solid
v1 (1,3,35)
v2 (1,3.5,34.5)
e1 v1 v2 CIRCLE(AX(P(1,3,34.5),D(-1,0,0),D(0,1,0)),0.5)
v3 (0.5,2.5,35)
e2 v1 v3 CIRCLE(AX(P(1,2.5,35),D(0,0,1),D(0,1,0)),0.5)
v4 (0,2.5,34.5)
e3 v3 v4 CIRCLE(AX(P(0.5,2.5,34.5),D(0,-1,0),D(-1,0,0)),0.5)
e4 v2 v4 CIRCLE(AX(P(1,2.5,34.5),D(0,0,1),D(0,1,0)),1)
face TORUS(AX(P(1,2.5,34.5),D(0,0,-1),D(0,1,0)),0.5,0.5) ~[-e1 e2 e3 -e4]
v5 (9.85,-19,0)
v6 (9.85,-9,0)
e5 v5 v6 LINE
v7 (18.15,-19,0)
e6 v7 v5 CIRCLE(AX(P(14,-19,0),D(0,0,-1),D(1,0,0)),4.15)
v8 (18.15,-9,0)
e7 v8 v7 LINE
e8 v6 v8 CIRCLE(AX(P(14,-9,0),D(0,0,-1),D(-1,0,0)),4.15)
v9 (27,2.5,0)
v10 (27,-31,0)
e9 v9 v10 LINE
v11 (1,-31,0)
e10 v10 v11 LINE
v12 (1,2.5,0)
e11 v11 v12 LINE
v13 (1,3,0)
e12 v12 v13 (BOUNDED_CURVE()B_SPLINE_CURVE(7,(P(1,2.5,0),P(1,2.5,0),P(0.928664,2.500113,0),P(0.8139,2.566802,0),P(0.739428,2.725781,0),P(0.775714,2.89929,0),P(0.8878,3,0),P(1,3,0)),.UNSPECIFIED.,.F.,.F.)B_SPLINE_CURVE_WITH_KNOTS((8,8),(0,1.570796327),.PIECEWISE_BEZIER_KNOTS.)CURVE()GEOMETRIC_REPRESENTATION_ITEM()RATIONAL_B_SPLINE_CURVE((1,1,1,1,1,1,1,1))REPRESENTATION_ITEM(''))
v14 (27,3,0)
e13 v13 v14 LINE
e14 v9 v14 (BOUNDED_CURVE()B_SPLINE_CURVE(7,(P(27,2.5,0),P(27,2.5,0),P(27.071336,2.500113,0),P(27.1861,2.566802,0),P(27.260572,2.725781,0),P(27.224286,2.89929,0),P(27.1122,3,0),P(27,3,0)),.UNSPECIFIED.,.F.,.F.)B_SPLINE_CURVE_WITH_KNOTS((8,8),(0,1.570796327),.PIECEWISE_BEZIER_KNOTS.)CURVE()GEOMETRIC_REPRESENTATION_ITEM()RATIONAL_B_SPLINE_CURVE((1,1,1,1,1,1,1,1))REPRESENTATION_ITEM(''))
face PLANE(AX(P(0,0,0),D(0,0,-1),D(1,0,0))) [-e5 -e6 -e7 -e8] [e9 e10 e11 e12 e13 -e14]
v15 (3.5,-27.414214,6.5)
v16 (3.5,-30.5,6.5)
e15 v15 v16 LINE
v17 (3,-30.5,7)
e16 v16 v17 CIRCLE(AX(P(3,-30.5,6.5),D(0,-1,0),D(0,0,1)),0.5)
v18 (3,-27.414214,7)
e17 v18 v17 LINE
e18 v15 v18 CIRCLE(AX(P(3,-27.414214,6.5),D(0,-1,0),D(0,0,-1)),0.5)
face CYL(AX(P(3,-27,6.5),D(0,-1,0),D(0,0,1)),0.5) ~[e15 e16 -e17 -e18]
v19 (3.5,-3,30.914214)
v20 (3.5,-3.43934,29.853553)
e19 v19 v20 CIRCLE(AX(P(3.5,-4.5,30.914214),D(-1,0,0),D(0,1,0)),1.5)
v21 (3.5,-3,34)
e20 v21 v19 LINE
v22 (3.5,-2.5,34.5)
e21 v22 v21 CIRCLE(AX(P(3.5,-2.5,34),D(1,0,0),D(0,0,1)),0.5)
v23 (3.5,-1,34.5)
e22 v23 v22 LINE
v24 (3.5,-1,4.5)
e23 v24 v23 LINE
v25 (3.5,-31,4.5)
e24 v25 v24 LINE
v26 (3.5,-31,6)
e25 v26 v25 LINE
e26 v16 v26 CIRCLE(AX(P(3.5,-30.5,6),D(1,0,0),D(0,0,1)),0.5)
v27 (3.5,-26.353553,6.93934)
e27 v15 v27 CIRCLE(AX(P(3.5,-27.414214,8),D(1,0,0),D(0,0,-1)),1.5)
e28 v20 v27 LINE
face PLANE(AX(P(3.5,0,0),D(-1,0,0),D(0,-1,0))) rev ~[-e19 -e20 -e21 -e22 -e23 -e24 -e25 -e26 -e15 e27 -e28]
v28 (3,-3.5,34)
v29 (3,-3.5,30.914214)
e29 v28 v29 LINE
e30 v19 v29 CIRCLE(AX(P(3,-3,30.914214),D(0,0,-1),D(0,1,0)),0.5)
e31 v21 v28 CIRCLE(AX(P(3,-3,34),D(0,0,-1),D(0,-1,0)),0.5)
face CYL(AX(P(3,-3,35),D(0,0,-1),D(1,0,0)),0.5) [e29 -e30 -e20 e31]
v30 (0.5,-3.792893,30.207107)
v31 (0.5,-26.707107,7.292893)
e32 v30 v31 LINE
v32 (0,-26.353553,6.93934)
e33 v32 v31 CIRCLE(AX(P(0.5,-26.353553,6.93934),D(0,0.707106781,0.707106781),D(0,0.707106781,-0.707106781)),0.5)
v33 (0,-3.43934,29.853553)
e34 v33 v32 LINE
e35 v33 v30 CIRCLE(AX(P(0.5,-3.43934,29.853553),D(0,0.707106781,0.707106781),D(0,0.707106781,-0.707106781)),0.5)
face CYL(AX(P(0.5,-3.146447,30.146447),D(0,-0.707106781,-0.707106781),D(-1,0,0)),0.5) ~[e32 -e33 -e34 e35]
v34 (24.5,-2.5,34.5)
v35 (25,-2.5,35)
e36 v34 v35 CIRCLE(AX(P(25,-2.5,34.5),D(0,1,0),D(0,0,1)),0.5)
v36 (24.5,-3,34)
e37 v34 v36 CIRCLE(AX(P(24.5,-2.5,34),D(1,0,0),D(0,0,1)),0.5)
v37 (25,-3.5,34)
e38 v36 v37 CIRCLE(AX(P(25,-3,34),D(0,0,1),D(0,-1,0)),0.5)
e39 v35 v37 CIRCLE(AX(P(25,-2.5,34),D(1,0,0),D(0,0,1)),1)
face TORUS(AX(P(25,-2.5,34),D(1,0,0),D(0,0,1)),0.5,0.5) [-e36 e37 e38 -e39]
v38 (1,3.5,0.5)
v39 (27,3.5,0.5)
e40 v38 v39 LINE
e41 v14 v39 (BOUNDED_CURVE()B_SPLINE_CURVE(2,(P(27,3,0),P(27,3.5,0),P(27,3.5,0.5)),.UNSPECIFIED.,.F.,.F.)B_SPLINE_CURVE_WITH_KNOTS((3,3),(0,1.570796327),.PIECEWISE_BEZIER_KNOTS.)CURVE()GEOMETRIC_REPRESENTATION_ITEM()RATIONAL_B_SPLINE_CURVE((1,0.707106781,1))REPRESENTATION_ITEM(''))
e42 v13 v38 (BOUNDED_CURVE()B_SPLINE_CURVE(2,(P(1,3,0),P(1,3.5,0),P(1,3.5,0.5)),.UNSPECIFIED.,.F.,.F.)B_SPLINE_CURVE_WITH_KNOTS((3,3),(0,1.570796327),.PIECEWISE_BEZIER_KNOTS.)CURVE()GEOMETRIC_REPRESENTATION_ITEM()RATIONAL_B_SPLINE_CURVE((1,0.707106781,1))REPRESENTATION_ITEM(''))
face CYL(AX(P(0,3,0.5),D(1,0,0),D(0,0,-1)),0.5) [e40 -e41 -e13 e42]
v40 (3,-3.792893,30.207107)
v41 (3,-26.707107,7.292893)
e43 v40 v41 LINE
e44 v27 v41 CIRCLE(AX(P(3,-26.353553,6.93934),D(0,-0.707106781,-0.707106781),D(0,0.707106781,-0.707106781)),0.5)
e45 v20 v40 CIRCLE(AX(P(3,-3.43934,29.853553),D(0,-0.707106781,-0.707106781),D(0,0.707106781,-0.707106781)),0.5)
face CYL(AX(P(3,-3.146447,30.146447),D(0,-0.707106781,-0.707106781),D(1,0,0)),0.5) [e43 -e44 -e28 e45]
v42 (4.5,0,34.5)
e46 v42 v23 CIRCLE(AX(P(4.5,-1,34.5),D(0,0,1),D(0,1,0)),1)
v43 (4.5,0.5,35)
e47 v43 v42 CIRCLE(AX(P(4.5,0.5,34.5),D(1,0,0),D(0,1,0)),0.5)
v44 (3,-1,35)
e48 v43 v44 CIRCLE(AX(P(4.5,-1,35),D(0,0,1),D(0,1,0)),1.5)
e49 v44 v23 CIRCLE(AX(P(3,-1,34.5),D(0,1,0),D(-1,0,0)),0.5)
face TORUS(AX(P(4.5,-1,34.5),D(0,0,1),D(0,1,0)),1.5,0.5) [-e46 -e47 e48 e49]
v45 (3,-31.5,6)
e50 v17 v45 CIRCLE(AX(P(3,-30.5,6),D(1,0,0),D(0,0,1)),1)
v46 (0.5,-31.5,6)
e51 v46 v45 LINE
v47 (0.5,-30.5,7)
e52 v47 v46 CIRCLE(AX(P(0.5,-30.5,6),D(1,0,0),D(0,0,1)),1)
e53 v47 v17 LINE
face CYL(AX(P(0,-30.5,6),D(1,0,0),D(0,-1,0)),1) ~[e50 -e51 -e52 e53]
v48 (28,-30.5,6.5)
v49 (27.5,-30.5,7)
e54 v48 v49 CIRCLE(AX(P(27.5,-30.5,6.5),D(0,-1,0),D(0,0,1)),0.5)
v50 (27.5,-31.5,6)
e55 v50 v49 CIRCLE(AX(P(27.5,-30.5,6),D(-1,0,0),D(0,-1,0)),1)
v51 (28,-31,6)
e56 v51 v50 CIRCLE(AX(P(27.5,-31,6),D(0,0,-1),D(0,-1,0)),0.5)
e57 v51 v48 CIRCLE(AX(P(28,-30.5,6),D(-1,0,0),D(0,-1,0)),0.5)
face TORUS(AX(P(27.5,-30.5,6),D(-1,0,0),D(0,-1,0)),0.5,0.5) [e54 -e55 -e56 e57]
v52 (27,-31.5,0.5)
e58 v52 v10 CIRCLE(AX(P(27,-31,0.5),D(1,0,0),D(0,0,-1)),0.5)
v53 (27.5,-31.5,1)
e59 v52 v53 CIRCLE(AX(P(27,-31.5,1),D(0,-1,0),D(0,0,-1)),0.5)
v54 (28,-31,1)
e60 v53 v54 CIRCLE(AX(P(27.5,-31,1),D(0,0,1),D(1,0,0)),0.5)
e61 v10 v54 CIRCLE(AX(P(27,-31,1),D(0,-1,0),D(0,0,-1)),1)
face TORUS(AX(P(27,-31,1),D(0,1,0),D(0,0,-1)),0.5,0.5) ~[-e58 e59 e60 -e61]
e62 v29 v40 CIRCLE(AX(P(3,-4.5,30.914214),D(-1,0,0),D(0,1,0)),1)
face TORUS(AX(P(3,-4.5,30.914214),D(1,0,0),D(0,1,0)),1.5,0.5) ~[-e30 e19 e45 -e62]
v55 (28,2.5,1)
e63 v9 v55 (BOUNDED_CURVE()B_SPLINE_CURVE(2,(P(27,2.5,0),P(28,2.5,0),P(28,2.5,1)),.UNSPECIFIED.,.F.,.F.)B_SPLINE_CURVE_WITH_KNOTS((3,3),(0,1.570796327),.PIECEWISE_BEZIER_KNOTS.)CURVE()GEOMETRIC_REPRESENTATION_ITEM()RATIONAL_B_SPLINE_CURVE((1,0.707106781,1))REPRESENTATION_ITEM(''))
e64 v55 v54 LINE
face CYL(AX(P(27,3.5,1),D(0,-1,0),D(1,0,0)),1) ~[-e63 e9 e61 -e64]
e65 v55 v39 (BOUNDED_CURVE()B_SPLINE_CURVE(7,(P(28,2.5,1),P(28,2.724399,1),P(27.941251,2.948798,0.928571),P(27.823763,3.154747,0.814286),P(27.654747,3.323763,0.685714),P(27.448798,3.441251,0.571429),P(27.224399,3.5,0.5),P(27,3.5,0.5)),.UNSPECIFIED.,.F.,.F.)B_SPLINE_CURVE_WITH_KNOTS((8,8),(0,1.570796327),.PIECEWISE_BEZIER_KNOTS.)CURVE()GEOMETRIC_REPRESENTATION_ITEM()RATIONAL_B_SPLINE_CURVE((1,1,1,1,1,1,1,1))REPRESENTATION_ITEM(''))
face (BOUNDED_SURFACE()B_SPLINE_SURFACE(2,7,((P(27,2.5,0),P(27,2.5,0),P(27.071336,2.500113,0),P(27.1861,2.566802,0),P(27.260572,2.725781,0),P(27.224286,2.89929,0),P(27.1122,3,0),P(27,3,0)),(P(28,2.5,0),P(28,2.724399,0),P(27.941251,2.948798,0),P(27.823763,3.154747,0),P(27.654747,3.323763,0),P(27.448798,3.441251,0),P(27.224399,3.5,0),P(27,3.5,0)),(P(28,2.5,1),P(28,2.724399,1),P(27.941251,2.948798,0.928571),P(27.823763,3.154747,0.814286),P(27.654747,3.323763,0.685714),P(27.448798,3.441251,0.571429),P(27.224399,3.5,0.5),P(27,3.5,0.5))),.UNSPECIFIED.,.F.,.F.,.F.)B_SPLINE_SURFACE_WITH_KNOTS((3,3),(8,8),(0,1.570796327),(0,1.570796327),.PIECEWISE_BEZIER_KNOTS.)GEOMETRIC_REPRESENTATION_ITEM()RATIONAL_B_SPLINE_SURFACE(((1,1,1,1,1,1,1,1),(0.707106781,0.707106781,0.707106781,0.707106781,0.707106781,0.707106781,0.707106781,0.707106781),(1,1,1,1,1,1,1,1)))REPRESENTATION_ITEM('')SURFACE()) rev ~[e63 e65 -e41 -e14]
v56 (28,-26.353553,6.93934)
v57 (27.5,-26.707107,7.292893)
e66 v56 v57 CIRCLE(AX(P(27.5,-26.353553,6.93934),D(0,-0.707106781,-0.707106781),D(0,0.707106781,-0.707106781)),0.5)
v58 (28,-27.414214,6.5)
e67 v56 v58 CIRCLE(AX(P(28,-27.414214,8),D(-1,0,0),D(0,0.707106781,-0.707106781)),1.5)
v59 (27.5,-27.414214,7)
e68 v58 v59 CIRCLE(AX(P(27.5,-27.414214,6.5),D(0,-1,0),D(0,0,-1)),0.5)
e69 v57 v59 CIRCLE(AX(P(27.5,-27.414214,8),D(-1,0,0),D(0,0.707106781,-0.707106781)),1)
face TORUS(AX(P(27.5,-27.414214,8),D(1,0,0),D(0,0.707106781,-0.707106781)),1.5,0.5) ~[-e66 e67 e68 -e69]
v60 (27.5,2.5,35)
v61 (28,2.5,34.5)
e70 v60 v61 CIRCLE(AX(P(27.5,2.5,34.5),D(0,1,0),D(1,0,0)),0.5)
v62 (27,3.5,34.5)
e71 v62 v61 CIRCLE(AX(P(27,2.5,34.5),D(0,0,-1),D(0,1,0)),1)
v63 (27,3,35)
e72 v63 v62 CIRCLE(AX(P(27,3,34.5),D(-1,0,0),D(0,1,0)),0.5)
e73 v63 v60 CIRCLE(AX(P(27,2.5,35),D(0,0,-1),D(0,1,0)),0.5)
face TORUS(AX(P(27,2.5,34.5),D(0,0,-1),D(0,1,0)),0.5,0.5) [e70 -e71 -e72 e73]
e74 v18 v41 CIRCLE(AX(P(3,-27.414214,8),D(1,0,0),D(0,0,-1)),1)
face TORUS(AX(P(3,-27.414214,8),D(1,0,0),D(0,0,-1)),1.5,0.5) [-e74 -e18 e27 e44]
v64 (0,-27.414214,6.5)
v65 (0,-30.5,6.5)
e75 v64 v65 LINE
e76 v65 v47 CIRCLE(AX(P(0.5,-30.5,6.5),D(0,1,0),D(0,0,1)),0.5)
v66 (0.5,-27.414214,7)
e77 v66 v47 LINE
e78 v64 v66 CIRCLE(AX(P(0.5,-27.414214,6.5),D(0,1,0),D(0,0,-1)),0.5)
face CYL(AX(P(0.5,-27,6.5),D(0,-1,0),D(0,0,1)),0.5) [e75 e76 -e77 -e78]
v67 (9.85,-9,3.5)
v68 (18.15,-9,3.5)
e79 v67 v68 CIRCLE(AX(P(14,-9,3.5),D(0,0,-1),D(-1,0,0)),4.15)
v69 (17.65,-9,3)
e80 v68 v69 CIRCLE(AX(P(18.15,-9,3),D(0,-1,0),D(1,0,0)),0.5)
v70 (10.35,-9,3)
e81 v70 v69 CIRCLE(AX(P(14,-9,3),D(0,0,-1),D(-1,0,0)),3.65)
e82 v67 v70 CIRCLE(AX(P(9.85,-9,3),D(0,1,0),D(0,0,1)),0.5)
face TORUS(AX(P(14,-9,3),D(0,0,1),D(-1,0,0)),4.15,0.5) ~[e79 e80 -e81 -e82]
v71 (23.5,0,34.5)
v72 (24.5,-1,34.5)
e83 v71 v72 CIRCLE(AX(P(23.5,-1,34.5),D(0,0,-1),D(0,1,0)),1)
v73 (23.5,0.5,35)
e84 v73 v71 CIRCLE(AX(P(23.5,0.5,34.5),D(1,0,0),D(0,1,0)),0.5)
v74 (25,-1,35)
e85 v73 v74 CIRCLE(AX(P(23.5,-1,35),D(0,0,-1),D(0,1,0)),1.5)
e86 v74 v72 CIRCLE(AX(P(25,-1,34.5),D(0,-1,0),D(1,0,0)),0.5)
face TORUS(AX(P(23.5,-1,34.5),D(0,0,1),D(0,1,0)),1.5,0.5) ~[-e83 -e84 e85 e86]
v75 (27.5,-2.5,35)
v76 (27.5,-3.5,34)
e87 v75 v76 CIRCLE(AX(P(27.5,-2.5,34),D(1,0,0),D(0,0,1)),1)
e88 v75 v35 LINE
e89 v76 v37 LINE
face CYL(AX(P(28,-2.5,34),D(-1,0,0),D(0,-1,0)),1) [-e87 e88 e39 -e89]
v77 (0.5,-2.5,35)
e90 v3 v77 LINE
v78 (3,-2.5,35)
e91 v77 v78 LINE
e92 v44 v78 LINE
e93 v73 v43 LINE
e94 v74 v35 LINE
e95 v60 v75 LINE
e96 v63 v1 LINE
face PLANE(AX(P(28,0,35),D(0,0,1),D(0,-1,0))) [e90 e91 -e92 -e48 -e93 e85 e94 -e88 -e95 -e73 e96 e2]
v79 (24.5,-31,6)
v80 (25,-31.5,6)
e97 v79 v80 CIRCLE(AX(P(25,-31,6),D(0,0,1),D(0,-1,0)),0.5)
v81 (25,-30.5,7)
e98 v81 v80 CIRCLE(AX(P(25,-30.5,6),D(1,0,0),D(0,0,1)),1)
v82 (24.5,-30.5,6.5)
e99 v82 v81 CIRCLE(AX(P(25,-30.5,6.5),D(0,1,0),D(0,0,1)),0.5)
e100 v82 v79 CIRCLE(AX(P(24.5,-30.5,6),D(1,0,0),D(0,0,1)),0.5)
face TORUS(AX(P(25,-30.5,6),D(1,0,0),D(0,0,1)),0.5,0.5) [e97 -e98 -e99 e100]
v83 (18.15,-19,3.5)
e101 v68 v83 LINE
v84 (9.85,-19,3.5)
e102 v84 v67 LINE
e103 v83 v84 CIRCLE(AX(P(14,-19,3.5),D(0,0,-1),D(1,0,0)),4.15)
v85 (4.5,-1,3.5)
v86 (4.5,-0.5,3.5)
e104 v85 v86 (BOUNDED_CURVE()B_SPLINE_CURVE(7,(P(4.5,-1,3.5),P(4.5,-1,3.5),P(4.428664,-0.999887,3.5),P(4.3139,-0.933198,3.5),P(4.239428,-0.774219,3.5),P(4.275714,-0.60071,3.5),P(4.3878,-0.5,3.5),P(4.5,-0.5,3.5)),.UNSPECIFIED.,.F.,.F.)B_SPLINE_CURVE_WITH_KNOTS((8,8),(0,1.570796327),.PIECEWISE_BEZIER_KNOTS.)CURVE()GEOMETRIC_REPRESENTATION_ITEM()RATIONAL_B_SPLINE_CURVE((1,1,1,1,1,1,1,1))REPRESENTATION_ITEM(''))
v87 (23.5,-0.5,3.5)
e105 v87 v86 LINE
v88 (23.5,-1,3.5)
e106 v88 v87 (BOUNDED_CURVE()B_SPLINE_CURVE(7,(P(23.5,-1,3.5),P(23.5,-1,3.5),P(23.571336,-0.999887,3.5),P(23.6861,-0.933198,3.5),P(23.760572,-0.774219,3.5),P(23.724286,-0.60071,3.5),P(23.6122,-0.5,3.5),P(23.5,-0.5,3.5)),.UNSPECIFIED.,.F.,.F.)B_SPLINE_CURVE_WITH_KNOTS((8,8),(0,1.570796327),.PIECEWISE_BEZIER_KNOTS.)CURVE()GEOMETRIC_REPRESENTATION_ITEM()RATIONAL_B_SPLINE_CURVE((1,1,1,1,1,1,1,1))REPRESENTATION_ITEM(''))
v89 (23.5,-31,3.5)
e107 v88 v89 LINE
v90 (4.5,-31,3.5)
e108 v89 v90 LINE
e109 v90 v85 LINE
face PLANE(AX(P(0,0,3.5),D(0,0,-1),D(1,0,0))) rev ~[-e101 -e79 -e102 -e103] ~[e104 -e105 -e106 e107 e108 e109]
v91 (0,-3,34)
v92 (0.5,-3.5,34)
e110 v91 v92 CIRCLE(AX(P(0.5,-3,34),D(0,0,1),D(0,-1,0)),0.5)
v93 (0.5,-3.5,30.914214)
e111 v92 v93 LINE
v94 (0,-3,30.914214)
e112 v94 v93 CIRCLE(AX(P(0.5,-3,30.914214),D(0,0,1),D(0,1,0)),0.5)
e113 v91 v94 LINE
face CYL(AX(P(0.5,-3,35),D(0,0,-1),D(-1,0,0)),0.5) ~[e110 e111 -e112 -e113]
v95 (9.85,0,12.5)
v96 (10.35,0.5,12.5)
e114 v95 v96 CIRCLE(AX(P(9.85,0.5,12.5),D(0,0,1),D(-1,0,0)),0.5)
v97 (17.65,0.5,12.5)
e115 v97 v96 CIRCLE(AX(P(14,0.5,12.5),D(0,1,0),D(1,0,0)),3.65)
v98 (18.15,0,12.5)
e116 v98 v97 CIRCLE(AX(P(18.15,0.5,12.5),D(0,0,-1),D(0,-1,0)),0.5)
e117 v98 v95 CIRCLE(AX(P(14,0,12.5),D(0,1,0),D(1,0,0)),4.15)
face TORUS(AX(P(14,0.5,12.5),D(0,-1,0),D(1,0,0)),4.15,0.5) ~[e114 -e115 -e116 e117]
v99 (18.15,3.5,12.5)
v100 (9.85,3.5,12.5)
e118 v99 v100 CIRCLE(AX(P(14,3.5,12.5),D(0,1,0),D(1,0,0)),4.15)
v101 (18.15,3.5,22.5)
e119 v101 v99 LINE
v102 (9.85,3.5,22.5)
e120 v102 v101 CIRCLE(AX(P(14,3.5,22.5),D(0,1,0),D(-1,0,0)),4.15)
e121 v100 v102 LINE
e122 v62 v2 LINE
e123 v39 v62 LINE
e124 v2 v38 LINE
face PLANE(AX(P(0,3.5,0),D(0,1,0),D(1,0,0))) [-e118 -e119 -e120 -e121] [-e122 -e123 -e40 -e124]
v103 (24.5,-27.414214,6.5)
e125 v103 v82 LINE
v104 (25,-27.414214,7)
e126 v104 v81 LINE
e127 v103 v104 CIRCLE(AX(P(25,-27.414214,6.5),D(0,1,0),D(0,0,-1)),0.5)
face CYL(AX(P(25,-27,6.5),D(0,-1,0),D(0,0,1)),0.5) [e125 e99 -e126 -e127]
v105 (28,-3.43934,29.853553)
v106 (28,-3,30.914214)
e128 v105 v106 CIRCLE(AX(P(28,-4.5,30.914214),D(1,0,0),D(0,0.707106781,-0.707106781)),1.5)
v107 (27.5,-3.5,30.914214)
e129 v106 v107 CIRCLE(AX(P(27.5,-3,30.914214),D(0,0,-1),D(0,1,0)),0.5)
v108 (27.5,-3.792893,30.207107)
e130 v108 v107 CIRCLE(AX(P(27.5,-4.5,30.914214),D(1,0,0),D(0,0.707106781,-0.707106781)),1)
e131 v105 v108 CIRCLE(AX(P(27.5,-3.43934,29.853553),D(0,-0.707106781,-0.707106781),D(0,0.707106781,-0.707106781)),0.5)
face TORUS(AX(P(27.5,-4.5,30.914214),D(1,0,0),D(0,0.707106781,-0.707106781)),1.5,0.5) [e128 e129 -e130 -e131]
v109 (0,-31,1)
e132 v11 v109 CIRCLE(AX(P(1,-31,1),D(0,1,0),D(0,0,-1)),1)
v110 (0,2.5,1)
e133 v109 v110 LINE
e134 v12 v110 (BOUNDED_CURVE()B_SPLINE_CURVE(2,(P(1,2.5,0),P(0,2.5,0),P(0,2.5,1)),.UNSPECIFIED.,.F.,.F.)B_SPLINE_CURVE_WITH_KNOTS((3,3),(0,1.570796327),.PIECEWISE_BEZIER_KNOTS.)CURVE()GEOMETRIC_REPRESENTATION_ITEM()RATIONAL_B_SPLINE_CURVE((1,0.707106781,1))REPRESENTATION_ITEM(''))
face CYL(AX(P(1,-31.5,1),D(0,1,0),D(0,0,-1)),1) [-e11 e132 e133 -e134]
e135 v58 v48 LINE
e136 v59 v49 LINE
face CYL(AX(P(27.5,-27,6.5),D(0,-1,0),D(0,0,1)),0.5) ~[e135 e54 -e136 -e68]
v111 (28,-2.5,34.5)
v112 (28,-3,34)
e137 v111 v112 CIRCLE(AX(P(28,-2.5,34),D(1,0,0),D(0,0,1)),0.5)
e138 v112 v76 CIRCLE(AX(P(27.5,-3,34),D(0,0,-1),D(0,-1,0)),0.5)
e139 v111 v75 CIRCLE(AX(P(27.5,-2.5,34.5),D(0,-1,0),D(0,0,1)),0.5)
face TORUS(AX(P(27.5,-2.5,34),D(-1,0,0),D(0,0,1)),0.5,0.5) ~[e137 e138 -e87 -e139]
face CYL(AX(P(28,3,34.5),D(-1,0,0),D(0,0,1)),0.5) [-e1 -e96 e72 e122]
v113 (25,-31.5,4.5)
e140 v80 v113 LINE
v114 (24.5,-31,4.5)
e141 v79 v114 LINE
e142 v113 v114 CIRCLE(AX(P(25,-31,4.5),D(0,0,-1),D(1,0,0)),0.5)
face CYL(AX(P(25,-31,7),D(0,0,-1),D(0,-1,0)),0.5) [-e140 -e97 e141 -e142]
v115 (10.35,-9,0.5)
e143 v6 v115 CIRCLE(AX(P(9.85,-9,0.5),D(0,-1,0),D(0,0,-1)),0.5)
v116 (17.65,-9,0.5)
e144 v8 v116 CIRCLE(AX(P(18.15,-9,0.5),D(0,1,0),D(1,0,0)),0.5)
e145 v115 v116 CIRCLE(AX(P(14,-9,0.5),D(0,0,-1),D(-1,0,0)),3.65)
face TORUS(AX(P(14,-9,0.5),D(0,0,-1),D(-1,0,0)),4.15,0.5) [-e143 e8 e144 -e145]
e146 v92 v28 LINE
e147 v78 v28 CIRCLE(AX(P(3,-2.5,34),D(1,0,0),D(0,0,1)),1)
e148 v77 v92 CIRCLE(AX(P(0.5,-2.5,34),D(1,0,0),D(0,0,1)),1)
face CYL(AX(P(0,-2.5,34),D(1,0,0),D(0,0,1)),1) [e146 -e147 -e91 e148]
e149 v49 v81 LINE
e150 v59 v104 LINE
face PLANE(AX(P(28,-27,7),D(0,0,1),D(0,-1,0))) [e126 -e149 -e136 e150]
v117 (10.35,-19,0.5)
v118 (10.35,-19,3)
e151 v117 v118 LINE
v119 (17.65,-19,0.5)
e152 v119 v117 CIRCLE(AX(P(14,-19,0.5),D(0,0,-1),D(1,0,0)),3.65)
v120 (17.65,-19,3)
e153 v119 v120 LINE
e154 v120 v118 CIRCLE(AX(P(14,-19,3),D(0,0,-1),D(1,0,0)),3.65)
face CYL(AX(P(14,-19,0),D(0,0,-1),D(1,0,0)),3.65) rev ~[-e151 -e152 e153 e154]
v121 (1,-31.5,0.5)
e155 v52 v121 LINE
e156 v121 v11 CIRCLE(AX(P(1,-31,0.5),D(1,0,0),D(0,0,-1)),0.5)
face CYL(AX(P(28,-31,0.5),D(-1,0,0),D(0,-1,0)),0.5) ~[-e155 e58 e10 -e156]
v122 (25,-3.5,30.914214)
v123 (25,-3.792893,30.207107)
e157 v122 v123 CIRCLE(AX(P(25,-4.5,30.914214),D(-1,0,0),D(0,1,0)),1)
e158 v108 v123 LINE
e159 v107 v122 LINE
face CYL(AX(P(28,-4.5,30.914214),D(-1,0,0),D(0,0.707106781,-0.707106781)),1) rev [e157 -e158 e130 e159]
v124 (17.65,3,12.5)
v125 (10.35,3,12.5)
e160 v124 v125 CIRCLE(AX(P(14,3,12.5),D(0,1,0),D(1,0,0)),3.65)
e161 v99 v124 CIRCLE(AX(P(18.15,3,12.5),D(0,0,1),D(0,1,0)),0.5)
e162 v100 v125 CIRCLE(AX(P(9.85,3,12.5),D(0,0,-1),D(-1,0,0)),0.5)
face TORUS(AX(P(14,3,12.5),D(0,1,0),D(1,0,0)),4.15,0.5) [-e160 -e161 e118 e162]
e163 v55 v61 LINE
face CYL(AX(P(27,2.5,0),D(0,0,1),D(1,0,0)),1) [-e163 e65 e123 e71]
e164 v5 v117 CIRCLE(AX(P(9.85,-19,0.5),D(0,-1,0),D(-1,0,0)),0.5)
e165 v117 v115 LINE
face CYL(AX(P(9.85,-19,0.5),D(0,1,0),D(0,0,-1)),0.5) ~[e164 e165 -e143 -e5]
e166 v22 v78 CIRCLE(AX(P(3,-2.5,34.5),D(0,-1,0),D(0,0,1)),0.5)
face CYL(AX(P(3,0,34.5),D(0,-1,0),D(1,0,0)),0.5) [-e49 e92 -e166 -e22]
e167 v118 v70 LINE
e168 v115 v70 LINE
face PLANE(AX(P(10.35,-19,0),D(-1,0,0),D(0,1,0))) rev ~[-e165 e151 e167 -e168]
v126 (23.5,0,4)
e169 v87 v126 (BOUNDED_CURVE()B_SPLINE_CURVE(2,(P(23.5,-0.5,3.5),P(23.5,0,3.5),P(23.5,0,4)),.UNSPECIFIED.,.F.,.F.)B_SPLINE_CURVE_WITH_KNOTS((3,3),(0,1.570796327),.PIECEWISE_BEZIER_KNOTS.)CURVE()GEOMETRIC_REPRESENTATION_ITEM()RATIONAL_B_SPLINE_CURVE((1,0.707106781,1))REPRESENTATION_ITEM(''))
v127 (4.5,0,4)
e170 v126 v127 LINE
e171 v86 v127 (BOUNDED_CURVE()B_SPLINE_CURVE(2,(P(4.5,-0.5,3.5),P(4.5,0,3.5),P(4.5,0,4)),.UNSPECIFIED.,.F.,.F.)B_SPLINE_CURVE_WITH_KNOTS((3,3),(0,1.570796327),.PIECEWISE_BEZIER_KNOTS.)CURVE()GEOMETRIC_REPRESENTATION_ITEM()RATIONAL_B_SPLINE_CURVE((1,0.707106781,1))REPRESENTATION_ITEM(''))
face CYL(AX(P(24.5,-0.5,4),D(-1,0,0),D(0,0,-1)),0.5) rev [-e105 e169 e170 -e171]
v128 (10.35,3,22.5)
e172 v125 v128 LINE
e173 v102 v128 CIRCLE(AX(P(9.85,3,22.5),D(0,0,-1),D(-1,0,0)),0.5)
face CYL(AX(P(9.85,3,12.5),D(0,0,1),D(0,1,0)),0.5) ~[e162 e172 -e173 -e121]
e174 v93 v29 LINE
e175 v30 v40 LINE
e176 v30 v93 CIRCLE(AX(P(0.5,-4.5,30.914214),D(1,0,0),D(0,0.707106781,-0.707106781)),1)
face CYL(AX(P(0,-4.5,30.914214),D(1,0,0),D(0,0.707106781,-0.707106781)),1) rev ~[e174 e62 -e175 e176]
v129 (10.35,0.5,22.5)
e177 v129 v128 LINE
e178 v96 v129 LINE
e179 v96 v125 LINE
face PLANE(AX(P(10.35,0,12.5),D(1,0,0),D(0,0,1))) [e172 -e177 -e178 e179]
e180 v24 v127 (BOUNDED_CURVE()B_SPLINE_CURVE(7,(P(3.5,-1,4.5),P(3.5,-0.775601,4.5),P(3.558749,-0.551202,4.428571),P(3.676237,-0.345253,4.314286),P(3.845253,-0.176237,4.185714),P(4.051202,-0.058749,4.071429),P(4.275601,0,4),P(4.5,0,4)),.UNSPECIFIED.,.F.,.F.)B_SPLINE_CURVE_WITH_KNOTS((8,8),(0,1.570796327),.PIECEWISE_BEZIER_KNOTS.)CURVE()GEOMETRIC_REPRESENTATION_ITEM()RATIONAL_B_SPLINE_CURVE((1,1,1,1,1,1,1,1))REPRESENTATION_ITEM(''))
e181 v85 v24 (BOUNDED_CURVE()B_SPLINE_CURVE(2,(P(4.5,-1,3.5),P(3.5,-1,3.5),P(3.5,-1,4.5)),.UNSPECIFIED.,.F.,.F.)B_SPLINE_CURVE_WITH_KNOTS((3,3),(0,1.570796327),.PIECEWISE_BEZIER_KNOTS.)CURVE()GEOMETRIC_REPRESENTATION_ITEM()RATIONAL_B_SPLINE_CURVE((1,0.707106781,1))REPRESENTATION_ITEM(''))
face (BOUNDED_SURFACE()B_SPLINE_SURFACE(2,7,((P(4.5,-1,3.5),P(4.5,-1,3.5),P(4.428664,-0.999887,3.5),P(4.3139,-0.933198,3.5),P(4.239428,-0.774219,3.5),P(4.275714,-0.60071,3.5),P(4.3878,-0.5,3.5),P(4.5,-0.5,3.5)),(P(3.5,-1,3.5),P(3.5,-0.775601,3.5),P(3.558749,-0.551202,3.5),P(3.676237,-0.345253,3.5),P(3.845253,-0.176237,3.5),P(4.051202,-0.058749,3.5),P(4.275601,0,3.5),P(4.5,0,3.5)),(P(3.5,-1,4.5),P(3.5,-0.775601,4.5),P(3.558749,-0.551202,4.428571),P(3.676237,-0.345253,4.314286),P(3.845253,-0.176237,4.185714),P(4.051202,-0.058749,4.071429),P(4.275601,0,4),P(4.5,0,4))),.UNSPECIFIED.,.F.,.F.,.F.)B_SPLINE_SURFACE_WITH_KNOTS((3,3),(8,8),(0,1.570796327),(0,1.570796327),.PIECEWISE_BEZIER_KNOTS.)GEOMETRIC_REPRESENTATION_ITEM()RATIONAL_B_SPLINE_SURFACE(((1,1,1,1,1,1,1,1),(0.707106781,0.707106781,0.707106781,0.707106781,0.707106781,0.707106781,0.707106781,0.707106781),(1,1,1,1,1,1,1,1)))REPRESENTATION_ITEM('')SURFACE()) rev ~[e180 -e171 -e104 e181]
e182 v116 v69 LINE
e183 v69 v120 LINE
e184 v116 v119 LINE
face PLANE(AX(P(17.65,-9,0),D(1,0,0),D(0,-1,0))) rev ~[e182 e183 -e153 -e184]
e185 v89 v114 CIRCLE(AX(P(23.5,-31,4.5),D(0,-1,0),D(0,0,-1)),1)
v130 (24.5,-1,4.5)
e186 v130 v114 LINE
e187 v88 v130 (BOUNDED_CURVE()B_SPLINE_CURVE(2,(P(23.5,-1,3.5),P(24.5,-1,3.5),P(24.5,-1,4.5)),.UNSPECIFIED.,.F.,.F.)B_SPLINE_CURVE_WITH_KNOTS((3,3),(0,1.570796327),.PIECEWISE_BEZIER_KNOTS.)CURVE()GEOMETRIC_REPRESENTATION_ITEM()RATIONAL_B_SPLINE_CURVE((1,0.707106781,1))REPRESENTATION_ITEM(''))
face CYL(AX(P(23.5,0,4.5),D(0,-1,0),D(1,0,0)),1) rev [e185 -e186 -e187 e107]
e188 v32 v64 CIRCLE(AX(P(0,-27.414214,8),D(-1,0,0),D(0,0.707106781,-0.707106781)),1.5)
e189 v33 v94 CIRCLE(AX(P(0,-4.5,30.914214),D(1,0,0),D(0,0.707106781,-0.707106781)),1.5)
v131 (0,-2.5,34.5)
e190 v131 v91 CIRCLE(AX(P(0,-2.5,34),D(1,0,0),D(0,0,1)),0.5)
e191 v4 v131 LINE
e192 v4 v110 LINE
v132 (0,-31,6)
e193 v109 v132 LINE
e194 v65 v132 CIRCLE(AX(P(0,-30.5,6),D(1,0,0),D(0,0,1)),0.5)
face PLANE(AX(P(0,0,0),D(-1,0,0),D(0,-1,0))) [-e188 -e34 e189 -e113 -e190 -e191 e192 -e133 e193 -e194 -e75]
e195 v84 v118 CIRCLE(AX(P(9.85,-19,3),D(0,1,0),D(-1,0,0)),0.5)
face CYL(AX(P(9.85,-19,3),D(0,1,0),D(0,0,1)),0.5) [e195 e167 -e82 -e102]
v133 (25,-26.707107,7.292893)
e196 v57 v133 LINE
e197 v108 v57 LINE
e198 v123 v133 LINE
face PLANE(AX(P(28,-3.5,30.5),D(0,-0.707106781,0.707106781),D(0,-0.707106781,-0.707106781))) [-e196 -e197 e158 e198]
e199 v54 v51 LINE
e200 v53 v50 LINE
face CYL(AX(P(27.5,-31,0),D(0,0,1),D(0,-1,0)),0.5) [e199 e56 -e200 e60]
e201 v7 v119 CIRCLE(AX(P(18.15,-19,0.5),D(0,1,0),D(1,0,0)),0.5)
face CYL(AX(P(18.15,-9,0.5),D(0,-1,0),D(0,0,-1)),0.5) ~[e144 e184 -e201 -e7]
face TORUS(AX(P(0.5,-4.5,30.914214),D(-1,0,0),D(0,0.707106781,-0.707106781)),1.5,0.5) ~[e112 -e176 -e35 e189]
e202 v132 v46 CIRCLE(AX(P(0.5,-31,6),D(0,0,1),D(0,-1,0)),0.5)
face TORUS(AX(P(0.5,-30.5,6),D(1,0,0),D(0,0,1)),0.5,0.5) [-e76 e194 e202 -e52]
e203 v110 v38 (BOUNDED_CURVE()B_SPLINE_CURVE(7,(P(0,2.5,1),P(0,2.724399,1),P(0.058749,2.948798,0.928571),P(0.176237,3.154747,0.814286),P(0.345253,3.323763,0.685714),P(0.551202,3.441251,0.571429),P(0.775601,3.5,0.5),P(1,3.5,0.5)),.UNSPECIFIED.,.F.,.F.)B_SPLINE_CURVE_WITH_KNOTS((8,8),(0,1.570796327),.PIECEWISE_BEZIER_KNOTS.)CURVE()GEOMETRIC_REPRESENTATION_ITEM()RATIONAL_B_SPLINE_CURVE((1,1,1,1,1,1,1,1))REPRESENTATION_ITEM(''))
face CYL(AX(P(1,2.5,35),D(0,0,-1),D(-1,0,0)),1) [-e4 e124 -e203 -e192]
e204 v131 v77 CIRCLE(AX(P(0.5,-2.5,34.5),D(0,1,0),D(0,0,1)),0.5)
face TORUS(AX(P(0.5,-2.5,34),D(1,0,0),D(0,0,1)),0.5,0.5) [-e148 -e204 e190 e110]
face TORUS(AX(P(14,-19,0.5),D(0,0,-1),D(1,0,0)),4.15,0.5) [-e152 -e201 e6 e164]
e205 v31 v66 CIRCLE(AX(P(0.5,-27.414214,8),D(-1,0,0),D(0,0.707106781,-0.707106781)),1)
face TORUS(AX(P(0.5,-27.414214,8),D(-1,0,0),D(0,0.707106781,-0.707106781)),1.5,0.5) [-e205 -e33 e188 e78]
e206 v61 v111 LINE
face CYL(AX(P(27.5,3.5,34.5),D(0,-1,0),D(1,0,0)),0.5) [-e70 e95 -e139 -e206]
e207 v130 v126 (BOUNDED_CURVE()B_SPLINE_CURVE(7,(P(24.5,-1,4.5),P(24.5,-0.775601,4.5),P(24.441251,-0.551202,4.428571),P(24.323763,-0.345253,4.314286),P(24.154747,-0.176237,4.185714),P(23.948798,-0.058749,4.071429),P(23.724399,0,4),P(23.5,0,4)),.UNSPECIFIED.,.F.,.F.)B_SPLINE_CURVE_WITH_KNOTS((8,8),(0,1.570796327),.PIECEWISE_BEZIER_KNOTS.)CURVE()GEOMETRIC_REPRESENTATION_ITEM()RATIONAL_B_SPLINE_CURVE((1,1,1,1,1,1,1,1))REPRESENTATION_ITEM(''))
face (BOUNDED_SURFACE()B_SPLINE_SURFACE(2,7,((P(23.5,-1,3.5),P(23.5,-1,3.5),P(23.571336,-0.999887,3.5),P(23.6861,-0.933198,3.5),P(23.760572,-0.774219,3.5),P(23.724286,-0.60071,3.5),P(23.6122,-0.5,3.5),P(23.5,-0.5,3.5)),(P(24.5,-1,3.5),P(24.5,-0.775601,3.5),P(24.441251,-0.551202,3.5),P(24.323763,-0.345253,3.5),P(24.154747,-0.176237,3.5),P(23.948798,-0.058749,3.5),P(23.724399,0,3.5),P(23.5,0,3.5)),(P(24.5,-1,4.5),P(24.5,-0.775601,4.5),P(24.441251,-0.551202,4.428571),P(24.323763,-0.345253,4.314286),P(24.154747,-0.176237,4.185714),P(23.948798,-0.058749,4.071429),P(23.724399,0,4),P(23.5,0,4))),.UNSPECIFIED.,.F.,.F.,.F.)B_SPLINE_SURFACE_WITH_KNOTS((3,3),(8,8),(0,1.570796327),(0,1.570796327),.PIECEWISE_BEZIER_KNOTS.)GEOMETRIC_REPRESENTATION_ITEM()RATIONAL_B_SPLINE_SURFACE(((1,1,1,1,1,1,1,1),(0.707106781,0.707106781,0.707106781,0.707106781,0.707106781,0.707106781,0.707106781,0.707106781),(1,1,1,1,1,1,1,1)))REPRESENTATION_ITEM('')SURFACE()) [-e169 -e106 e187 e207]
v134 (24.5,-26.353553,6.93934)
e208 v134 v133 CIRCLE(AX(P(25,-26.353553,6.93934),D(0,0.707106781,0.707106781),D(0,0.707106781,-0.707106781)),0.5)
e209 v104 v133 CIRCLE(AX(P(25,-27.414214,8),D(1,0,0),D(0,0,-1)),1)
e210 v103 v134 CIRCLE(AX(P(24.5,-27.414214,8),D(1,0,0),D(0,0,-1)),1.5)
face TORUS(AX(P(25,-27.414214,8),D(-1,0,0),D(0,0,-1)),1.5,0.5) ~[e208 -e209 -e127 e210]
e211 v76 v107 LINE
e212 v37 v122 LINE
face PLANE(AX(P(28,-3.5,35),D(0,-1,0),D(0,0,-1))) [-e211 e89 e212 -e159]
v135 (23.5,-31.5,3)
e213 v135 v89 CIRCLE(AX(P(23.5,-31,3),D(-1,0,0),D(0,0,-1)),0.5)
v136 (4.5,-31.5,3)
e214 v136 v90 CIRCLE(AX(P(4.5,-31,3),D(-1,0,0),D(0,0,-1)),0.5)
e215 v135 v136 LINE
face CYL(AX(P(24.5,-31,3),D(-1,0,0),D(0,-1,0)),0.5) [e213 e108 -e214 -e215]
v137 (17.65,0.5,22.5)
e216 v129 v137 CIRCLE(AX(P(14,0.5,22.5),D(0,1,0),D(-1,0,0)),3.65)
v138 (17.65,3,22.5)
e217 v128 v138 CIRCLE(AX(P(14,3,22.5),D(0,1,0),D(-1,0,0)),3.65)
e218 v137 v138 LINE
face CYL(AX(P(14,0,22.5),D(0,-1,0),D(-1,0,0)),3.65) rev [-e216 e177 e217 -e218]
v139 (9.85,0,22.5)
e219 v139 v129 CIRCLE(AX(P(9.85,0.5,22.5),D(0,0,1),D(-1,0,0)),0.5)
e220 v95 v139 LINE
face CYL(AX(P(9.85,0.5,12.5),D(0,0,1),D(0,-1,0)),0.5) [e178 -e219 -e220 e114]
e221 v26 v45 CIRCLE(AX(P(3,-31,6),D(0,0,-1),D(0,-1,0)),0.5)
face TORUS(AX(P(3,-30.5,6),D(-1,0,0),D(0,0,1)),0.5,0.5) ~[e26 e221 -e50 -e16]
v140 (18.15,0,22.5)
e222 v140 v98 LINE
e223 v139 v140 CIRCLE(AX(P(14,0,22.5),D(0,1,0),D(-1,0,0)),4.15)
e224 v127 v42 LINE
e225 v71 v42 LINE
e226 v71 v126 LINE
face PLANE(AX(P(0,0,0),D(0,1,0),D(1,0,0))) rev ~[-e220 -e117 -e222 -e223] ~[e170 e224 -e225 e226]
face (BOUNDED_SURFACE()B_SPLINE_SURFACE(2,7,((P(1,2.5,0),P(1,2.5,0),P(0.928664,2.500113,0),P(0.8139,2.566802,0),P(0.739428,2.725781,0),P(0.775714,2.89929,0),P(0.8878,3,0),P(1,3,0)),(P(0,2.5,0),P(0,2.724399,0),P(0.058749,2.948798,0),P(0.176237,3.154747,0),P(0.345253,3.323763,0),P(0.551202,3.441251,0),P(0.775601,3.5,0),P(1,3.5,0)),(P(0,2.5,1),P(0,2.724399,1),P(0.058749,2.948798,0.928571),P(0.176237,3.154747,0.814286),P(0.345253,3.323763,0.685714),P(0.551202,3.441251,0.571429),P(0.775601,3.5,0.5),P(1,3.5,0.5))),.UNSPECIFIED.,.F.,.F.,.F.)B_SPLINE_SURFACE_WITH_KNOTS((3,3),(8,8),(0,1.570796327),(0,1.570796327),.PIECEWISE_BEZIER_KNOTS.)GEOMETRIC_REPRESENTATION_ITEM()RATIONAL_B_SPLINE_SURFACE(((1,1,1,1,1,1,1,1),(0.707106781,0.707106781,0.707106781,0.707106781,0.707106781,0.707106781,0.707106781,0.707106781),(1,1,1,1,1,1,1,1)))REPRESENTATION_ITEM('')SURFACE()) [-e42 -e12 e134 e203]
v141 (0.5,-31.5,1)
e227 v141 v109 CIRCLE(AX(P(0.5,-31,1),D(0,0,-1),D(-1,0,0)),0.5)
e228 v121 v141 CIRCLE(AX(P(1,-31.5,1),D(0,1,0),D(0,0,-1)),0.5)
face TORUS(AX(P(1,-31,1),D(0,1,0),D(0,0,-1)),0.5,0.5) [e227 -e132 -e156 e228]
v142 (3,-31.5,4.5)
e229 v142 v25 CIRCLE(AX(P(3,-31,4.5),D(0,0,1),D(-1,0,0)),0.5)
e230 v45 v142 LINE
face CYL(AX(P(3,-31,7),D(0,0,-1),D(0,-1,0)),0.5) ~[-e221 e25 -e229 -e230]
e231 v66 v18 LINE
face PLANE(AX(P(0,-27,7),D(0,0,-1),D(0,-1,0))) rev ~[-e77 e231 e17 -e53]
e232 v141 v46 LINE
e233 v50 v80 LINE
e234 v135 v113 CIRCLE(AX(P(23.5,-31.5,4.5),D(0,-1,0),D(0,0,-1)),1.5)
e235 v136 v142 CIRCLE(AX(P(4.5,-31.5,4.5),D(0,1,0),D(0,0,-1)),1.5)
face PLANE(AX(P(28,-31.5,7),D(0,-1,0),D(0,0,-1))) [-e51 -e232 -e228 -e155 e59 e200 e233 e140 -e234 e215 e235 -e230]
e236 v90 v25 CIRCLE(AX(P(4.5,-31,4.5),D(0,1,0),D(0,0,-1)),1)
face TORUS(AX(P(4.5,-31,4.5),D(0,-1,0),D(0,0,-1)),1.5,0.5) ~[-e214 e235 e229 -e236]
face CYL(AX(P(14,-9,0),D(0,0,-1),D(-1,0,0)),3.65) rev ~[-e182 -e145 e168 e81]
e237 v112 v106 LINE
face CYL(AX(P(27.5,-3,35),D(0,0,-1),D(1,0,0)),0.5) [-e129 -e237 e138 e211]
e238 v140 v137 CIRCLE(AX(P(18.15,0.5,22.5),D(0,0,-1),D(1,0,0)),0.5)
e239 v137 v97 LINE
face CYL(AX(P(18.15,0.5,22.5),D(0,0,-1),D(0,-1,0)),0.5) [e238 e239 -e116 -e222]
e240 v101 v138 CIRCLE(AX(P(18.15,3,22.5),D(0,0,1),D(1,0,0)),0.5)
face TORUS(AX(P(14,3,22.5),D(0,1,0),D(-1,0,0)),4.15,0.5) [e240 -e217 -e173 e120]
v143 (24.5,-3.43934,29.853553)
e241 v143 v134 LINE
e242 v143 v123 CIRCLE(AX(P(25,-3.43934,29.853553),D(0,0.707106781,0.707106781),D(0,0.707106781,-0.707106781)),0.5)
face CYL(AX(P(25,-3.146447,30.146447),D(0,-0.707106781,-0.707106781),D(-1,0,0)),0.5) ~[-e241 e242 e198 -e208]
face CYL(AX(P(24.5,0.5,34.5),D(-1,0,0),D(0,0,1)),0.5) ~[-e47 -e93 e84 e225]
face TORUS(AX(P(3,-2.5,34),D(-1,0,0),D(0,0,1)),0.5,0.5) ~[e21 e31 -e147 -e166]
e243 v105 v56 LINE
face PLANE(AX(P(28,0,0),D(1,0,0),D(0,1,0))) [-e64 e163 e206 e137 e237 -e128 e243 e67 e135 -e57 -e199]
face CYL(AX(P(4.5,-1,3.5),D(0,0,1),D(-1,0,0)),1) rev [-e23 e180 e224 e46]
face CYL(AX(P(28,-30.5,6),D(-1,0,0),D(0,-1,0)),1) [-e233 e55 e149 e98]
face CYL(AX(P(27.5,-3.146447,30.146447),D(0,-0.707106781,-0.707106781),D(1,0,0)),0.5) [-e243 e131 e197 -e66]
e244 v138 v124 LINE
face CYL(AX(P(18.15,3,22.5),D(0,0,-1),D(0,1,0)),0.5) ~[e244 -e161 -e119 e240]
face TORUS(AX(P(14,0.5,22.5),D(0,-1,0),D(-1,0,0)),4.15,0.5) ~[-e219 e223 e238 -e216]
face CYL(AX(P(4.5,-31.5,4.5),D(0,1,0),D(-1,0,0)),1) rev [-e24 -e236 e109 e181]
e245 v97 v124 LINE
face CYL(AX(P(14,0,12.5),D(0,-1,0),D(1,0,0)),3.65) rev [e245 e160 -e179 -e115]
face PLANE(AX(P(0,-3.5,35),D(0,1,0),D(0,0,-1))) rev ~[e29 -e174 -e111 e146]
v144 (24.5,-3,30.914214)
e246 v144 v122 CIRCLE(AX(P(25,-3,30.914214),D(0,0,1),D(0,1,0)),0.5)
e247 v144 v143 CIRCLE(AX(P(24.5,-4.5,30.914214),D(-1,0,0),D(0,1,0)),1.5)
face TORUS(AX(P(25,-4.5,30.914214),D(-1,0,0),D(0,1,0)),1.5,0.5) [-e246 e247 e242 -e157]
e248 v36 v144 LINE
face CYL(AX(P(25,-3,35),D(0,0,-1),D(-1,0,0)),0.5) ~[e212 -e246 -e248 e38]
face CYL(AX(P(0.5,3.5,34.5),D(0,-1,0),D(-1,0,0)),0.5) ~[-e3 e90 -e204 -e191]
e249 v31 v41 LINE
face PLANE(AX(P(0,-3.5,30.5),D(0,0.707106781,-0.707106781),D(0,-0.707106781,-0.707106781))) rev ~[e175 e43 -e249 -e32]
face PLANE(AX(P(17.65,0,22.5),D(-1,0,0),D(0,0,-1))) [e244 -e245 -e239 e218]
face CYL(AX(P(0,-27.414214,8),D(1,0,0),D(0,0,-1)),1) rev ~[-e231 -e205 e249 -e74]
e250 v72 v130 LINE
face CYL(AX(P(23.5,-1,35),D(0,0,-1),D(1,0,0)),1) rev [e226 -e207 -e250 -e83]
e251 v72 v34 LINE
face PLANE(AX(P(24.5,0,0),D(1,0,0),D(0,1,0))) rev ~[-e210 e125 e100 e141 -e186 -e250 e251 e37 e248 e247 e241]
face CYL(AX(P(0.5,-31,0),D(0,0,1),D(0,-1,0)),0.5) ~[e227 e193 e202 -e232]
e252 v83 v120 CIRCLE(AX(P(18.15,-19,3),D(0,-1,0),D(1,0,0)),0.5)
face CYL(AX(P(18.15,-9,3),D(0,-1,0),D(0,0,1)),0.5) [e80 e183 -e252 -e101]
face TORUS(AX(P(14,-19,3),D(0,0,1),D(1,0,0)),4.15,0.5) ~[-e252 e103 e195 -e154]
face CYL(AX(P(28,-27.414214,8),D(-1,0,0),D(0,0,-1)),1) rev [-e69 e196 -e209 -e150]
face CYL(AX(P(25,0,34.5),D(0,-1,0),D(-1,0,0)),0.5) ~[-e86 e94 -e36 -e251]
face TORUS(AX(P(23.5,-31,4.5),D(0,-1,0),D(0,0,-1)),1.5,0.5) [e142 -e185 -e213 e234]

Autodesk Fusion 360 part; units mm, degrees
sketch "Sketch1" plane through (0, 0, 0) normal (0, 1, 0) x (1, 0, 0)
  line L0 (0, 0) -> (28, 0)
  line L1 (28, 0) -> (28, -35)
  line L2 (28, -35) -> (0, -35)
  line L3 (0, -35) -> (0, 0)
  line L4 (0, -3.5) -> (28, -3.5) construction
  line L5 (10.35, -12.5) -> (10.35, -22.5)
  arc A0 (10.35, -22.5) -> (17.65, -22.5) centre (14, -22.5) ccw
  line L6 (17.65, -22.5) -> (17.65, -12.5)
  arc A1 (17.65, -12.5) -> (10.35, -12.5) centre (14, -12.5) ccw
  line L7 (14, -12.5) -> (14, -22.5) construction
  point P0 (14, -35)
  point P1 (14, -17.5)
  point P2 (28, -17.5)
  dimension "d1" = 28
  dimension "d2" = 35
  dimension "d3" = 3.5
  dimension "d4" = 3.65
  dimension "d5" = 10
extrude "Extrude1" add sketch "Sketch1" along normal blind 3.5
sketch "Sketch2" plane through (0, 0, 0) normal (0, 0, -1) x (1, 0, 0)
  line L0 (28, 0) -> (0, 0)
  line L1 (0, 0) -> (0, -3.5)
  line L2 (0, -3.5) -> (28, -3.5)
  line L3 (28, -3.5) -> (28, 0)
  line L4 (0, -3.5) -> (28, -3.5)
  line L5 (28, -3.5) -> (28, 31.5)
  line L6 (28, 31.5) -> (0, 31.5)
  line L7 (0, 31.5) -> (0, -3.5)
  line L8 (17.65, 9) -> (17.65, 19)
  arc A0 (17.65, 19) -> (10.35, 19) centre (14, 19) ccw
  line L9 (10.35, 19) -> (10.35, 9)
  arc A1 (10.35, 9) -> (17.65, 9) centre (14, 9) ccw
  line L10 (14, 9) -> (14, 19) construction
  point P0 (28, -3.5)
  point P1 (0, -3.5)
  point P2 (14, 31.5)
  point P3 (14, 14)
  point P4 (28, 14)
  dimension "d8" = 28
  dimension "d9" = 35
  dimension "d10" = 7.3
  dimension "d11" = 10
extrude "Extrude2" add sketch "Sketch2" against normal blind 3.5 contours L0 L5 L6 L7
sketch "Sketch3" plane through (0, 0, 0) normal (-1, 0, 0) x (0, -1, 0)
  line L0 (0, 3.5) -> (0, 35)
  line L1 (0, 35) -> (-3.5, 35)
  line L2 (-3.5, 35) -> (-3.5, 0)
  line L3 (-3.5, 0) -> (31.5, 0)
  line L4 (31.5, 0) -> (31.5, 3.5)
  line L5 (31.5, 3.5) -> (0, 3.5)
  line L6 (0, 35) -> (3.5, 35)
  line L7 (3.5, 35) -> (3.5, 30.5)
  line L8 (3.5, 30.5) -> (27, 7)
  line L9 (27, 7) -> (31.5, 7)
  line L10 (31.5, 7) -> (31.5, 3.5)
  line L11 (0, 3.5) -> (15.25, 18.75) construction
  dimension "d14" = 45
  dimension "d15" = 3.5
  dimension "d16" = 4.5
extrude "Extrude3" add sketch "Sketch3" against normal blind 3.5 contours L0 L5 L6 L7 L8 L9 L10
sketch "Sketch4" plane through (28, 0, 0) normal (1, 0, 0) x (0, 1, 0)
  line L0 (-31.5, 0) -> (3.5, 0)
  line L1 (3.5, 0) -> (3.5, 35)
  line L2 (3.5, 35) -> (0, 35)
  line L3 (0, 35) -> (0, 3.5)
  line L4 (0, 3.5) -> (-31.5, 3.5)
  line L5 (-31.5, 3.5) -> (-31.5, 0)
  line L6 (-27, 7) -> (-31.5, 7)
  line L7 (-31.5, 7) -> (-31.5, 3.5)
  line L8 (-31.5, 3.5) -> (0, 3.5)
  line L9 (0, 3.5) -> (0, 35)
  line L10 (0, 35) -> (-3.5, 35)
  line L11 (-3.5, 35) -> (-3.5, 30.5)
  line L12 (-3.5, 30.5) -> (-27, 7)
extrude "Extrude4" add sketch "Sketch4" against normal blind 3.5 contours L3 L4 L6 L7 L8 L9 L10 L11 L12
fillet "Fillet1" radius 1 4 edges at (1.75, -31.5, 7) (1.75, -3.5, 35) (26.25, -3.5, 35) (26.25, -31.5, 7)
fillet "Fillet1" radius 1 4 edges at (26.25, -3.5, 30.5) (26.25, -27, 7) (1.75, -27, 7) (1.75, -3.5, 30.5)
fillet "Fillet1" radius 1 8 edges at (28, 3.5, 17.5) (24.5, 0, 19.25) (3.5, 0, 19.25) (0, 3.5, 17.5) (24.5, -15.75, 3.5) (28, -14, 0) (3.5, -15.75, 3.5) (0, -14, 0)
fillet "Fillet1" radius 0.5 42 edges at (14, -31.5, 0) (14, -31.5, 3.5) (14, 0, 35) (14, 3.5, 35) (24.5, -1.75, 35) (3.5, -1.75, 35) (3.5, -29.25, 7) (24.5, -29.25, 7) (24.5, -31.5, 5.25) (3.5, -31.5, 5.25) (24.5, -3.5, 32.75) (3.5, -3.5, 32.75) (0, -15.25, 18.75) (3.5, -15.25, 18.75) (24.5, -15.25, 18.75) (28, -15.25, 18.75) (28, -31.5, 3.5) (28, -29.25, 7) (0, -29.25, 7) (0, -31.5, 3.5) (0, 0, 35) (28, 0, 35) (28, -3.5, 32.75) (0, -3.5, 32.75) (14, 3.5, 0) (14, 0, 3.5) (14, 0, 26.15) (10.35, 0, 17.5) (14, 0, 8.85) (17.65, 0, 17.5) (14, 3.5, 26.15) (10.35, 3.5, 17.5) (14, 3.5, 8.85) (17.65, 3.5, 17.5) (14, -22.65, 3.5) (10.35, -14, 3.5) (14, -5.35, 3.5) (17.65, -14, 3.5) (14, -22.65, 0) (17.65, -14, 0) (14, -5.35, 0) (10.35, -14, 0)
equation "d4 = ( 7.3 / 2 ) * 1 mm"
